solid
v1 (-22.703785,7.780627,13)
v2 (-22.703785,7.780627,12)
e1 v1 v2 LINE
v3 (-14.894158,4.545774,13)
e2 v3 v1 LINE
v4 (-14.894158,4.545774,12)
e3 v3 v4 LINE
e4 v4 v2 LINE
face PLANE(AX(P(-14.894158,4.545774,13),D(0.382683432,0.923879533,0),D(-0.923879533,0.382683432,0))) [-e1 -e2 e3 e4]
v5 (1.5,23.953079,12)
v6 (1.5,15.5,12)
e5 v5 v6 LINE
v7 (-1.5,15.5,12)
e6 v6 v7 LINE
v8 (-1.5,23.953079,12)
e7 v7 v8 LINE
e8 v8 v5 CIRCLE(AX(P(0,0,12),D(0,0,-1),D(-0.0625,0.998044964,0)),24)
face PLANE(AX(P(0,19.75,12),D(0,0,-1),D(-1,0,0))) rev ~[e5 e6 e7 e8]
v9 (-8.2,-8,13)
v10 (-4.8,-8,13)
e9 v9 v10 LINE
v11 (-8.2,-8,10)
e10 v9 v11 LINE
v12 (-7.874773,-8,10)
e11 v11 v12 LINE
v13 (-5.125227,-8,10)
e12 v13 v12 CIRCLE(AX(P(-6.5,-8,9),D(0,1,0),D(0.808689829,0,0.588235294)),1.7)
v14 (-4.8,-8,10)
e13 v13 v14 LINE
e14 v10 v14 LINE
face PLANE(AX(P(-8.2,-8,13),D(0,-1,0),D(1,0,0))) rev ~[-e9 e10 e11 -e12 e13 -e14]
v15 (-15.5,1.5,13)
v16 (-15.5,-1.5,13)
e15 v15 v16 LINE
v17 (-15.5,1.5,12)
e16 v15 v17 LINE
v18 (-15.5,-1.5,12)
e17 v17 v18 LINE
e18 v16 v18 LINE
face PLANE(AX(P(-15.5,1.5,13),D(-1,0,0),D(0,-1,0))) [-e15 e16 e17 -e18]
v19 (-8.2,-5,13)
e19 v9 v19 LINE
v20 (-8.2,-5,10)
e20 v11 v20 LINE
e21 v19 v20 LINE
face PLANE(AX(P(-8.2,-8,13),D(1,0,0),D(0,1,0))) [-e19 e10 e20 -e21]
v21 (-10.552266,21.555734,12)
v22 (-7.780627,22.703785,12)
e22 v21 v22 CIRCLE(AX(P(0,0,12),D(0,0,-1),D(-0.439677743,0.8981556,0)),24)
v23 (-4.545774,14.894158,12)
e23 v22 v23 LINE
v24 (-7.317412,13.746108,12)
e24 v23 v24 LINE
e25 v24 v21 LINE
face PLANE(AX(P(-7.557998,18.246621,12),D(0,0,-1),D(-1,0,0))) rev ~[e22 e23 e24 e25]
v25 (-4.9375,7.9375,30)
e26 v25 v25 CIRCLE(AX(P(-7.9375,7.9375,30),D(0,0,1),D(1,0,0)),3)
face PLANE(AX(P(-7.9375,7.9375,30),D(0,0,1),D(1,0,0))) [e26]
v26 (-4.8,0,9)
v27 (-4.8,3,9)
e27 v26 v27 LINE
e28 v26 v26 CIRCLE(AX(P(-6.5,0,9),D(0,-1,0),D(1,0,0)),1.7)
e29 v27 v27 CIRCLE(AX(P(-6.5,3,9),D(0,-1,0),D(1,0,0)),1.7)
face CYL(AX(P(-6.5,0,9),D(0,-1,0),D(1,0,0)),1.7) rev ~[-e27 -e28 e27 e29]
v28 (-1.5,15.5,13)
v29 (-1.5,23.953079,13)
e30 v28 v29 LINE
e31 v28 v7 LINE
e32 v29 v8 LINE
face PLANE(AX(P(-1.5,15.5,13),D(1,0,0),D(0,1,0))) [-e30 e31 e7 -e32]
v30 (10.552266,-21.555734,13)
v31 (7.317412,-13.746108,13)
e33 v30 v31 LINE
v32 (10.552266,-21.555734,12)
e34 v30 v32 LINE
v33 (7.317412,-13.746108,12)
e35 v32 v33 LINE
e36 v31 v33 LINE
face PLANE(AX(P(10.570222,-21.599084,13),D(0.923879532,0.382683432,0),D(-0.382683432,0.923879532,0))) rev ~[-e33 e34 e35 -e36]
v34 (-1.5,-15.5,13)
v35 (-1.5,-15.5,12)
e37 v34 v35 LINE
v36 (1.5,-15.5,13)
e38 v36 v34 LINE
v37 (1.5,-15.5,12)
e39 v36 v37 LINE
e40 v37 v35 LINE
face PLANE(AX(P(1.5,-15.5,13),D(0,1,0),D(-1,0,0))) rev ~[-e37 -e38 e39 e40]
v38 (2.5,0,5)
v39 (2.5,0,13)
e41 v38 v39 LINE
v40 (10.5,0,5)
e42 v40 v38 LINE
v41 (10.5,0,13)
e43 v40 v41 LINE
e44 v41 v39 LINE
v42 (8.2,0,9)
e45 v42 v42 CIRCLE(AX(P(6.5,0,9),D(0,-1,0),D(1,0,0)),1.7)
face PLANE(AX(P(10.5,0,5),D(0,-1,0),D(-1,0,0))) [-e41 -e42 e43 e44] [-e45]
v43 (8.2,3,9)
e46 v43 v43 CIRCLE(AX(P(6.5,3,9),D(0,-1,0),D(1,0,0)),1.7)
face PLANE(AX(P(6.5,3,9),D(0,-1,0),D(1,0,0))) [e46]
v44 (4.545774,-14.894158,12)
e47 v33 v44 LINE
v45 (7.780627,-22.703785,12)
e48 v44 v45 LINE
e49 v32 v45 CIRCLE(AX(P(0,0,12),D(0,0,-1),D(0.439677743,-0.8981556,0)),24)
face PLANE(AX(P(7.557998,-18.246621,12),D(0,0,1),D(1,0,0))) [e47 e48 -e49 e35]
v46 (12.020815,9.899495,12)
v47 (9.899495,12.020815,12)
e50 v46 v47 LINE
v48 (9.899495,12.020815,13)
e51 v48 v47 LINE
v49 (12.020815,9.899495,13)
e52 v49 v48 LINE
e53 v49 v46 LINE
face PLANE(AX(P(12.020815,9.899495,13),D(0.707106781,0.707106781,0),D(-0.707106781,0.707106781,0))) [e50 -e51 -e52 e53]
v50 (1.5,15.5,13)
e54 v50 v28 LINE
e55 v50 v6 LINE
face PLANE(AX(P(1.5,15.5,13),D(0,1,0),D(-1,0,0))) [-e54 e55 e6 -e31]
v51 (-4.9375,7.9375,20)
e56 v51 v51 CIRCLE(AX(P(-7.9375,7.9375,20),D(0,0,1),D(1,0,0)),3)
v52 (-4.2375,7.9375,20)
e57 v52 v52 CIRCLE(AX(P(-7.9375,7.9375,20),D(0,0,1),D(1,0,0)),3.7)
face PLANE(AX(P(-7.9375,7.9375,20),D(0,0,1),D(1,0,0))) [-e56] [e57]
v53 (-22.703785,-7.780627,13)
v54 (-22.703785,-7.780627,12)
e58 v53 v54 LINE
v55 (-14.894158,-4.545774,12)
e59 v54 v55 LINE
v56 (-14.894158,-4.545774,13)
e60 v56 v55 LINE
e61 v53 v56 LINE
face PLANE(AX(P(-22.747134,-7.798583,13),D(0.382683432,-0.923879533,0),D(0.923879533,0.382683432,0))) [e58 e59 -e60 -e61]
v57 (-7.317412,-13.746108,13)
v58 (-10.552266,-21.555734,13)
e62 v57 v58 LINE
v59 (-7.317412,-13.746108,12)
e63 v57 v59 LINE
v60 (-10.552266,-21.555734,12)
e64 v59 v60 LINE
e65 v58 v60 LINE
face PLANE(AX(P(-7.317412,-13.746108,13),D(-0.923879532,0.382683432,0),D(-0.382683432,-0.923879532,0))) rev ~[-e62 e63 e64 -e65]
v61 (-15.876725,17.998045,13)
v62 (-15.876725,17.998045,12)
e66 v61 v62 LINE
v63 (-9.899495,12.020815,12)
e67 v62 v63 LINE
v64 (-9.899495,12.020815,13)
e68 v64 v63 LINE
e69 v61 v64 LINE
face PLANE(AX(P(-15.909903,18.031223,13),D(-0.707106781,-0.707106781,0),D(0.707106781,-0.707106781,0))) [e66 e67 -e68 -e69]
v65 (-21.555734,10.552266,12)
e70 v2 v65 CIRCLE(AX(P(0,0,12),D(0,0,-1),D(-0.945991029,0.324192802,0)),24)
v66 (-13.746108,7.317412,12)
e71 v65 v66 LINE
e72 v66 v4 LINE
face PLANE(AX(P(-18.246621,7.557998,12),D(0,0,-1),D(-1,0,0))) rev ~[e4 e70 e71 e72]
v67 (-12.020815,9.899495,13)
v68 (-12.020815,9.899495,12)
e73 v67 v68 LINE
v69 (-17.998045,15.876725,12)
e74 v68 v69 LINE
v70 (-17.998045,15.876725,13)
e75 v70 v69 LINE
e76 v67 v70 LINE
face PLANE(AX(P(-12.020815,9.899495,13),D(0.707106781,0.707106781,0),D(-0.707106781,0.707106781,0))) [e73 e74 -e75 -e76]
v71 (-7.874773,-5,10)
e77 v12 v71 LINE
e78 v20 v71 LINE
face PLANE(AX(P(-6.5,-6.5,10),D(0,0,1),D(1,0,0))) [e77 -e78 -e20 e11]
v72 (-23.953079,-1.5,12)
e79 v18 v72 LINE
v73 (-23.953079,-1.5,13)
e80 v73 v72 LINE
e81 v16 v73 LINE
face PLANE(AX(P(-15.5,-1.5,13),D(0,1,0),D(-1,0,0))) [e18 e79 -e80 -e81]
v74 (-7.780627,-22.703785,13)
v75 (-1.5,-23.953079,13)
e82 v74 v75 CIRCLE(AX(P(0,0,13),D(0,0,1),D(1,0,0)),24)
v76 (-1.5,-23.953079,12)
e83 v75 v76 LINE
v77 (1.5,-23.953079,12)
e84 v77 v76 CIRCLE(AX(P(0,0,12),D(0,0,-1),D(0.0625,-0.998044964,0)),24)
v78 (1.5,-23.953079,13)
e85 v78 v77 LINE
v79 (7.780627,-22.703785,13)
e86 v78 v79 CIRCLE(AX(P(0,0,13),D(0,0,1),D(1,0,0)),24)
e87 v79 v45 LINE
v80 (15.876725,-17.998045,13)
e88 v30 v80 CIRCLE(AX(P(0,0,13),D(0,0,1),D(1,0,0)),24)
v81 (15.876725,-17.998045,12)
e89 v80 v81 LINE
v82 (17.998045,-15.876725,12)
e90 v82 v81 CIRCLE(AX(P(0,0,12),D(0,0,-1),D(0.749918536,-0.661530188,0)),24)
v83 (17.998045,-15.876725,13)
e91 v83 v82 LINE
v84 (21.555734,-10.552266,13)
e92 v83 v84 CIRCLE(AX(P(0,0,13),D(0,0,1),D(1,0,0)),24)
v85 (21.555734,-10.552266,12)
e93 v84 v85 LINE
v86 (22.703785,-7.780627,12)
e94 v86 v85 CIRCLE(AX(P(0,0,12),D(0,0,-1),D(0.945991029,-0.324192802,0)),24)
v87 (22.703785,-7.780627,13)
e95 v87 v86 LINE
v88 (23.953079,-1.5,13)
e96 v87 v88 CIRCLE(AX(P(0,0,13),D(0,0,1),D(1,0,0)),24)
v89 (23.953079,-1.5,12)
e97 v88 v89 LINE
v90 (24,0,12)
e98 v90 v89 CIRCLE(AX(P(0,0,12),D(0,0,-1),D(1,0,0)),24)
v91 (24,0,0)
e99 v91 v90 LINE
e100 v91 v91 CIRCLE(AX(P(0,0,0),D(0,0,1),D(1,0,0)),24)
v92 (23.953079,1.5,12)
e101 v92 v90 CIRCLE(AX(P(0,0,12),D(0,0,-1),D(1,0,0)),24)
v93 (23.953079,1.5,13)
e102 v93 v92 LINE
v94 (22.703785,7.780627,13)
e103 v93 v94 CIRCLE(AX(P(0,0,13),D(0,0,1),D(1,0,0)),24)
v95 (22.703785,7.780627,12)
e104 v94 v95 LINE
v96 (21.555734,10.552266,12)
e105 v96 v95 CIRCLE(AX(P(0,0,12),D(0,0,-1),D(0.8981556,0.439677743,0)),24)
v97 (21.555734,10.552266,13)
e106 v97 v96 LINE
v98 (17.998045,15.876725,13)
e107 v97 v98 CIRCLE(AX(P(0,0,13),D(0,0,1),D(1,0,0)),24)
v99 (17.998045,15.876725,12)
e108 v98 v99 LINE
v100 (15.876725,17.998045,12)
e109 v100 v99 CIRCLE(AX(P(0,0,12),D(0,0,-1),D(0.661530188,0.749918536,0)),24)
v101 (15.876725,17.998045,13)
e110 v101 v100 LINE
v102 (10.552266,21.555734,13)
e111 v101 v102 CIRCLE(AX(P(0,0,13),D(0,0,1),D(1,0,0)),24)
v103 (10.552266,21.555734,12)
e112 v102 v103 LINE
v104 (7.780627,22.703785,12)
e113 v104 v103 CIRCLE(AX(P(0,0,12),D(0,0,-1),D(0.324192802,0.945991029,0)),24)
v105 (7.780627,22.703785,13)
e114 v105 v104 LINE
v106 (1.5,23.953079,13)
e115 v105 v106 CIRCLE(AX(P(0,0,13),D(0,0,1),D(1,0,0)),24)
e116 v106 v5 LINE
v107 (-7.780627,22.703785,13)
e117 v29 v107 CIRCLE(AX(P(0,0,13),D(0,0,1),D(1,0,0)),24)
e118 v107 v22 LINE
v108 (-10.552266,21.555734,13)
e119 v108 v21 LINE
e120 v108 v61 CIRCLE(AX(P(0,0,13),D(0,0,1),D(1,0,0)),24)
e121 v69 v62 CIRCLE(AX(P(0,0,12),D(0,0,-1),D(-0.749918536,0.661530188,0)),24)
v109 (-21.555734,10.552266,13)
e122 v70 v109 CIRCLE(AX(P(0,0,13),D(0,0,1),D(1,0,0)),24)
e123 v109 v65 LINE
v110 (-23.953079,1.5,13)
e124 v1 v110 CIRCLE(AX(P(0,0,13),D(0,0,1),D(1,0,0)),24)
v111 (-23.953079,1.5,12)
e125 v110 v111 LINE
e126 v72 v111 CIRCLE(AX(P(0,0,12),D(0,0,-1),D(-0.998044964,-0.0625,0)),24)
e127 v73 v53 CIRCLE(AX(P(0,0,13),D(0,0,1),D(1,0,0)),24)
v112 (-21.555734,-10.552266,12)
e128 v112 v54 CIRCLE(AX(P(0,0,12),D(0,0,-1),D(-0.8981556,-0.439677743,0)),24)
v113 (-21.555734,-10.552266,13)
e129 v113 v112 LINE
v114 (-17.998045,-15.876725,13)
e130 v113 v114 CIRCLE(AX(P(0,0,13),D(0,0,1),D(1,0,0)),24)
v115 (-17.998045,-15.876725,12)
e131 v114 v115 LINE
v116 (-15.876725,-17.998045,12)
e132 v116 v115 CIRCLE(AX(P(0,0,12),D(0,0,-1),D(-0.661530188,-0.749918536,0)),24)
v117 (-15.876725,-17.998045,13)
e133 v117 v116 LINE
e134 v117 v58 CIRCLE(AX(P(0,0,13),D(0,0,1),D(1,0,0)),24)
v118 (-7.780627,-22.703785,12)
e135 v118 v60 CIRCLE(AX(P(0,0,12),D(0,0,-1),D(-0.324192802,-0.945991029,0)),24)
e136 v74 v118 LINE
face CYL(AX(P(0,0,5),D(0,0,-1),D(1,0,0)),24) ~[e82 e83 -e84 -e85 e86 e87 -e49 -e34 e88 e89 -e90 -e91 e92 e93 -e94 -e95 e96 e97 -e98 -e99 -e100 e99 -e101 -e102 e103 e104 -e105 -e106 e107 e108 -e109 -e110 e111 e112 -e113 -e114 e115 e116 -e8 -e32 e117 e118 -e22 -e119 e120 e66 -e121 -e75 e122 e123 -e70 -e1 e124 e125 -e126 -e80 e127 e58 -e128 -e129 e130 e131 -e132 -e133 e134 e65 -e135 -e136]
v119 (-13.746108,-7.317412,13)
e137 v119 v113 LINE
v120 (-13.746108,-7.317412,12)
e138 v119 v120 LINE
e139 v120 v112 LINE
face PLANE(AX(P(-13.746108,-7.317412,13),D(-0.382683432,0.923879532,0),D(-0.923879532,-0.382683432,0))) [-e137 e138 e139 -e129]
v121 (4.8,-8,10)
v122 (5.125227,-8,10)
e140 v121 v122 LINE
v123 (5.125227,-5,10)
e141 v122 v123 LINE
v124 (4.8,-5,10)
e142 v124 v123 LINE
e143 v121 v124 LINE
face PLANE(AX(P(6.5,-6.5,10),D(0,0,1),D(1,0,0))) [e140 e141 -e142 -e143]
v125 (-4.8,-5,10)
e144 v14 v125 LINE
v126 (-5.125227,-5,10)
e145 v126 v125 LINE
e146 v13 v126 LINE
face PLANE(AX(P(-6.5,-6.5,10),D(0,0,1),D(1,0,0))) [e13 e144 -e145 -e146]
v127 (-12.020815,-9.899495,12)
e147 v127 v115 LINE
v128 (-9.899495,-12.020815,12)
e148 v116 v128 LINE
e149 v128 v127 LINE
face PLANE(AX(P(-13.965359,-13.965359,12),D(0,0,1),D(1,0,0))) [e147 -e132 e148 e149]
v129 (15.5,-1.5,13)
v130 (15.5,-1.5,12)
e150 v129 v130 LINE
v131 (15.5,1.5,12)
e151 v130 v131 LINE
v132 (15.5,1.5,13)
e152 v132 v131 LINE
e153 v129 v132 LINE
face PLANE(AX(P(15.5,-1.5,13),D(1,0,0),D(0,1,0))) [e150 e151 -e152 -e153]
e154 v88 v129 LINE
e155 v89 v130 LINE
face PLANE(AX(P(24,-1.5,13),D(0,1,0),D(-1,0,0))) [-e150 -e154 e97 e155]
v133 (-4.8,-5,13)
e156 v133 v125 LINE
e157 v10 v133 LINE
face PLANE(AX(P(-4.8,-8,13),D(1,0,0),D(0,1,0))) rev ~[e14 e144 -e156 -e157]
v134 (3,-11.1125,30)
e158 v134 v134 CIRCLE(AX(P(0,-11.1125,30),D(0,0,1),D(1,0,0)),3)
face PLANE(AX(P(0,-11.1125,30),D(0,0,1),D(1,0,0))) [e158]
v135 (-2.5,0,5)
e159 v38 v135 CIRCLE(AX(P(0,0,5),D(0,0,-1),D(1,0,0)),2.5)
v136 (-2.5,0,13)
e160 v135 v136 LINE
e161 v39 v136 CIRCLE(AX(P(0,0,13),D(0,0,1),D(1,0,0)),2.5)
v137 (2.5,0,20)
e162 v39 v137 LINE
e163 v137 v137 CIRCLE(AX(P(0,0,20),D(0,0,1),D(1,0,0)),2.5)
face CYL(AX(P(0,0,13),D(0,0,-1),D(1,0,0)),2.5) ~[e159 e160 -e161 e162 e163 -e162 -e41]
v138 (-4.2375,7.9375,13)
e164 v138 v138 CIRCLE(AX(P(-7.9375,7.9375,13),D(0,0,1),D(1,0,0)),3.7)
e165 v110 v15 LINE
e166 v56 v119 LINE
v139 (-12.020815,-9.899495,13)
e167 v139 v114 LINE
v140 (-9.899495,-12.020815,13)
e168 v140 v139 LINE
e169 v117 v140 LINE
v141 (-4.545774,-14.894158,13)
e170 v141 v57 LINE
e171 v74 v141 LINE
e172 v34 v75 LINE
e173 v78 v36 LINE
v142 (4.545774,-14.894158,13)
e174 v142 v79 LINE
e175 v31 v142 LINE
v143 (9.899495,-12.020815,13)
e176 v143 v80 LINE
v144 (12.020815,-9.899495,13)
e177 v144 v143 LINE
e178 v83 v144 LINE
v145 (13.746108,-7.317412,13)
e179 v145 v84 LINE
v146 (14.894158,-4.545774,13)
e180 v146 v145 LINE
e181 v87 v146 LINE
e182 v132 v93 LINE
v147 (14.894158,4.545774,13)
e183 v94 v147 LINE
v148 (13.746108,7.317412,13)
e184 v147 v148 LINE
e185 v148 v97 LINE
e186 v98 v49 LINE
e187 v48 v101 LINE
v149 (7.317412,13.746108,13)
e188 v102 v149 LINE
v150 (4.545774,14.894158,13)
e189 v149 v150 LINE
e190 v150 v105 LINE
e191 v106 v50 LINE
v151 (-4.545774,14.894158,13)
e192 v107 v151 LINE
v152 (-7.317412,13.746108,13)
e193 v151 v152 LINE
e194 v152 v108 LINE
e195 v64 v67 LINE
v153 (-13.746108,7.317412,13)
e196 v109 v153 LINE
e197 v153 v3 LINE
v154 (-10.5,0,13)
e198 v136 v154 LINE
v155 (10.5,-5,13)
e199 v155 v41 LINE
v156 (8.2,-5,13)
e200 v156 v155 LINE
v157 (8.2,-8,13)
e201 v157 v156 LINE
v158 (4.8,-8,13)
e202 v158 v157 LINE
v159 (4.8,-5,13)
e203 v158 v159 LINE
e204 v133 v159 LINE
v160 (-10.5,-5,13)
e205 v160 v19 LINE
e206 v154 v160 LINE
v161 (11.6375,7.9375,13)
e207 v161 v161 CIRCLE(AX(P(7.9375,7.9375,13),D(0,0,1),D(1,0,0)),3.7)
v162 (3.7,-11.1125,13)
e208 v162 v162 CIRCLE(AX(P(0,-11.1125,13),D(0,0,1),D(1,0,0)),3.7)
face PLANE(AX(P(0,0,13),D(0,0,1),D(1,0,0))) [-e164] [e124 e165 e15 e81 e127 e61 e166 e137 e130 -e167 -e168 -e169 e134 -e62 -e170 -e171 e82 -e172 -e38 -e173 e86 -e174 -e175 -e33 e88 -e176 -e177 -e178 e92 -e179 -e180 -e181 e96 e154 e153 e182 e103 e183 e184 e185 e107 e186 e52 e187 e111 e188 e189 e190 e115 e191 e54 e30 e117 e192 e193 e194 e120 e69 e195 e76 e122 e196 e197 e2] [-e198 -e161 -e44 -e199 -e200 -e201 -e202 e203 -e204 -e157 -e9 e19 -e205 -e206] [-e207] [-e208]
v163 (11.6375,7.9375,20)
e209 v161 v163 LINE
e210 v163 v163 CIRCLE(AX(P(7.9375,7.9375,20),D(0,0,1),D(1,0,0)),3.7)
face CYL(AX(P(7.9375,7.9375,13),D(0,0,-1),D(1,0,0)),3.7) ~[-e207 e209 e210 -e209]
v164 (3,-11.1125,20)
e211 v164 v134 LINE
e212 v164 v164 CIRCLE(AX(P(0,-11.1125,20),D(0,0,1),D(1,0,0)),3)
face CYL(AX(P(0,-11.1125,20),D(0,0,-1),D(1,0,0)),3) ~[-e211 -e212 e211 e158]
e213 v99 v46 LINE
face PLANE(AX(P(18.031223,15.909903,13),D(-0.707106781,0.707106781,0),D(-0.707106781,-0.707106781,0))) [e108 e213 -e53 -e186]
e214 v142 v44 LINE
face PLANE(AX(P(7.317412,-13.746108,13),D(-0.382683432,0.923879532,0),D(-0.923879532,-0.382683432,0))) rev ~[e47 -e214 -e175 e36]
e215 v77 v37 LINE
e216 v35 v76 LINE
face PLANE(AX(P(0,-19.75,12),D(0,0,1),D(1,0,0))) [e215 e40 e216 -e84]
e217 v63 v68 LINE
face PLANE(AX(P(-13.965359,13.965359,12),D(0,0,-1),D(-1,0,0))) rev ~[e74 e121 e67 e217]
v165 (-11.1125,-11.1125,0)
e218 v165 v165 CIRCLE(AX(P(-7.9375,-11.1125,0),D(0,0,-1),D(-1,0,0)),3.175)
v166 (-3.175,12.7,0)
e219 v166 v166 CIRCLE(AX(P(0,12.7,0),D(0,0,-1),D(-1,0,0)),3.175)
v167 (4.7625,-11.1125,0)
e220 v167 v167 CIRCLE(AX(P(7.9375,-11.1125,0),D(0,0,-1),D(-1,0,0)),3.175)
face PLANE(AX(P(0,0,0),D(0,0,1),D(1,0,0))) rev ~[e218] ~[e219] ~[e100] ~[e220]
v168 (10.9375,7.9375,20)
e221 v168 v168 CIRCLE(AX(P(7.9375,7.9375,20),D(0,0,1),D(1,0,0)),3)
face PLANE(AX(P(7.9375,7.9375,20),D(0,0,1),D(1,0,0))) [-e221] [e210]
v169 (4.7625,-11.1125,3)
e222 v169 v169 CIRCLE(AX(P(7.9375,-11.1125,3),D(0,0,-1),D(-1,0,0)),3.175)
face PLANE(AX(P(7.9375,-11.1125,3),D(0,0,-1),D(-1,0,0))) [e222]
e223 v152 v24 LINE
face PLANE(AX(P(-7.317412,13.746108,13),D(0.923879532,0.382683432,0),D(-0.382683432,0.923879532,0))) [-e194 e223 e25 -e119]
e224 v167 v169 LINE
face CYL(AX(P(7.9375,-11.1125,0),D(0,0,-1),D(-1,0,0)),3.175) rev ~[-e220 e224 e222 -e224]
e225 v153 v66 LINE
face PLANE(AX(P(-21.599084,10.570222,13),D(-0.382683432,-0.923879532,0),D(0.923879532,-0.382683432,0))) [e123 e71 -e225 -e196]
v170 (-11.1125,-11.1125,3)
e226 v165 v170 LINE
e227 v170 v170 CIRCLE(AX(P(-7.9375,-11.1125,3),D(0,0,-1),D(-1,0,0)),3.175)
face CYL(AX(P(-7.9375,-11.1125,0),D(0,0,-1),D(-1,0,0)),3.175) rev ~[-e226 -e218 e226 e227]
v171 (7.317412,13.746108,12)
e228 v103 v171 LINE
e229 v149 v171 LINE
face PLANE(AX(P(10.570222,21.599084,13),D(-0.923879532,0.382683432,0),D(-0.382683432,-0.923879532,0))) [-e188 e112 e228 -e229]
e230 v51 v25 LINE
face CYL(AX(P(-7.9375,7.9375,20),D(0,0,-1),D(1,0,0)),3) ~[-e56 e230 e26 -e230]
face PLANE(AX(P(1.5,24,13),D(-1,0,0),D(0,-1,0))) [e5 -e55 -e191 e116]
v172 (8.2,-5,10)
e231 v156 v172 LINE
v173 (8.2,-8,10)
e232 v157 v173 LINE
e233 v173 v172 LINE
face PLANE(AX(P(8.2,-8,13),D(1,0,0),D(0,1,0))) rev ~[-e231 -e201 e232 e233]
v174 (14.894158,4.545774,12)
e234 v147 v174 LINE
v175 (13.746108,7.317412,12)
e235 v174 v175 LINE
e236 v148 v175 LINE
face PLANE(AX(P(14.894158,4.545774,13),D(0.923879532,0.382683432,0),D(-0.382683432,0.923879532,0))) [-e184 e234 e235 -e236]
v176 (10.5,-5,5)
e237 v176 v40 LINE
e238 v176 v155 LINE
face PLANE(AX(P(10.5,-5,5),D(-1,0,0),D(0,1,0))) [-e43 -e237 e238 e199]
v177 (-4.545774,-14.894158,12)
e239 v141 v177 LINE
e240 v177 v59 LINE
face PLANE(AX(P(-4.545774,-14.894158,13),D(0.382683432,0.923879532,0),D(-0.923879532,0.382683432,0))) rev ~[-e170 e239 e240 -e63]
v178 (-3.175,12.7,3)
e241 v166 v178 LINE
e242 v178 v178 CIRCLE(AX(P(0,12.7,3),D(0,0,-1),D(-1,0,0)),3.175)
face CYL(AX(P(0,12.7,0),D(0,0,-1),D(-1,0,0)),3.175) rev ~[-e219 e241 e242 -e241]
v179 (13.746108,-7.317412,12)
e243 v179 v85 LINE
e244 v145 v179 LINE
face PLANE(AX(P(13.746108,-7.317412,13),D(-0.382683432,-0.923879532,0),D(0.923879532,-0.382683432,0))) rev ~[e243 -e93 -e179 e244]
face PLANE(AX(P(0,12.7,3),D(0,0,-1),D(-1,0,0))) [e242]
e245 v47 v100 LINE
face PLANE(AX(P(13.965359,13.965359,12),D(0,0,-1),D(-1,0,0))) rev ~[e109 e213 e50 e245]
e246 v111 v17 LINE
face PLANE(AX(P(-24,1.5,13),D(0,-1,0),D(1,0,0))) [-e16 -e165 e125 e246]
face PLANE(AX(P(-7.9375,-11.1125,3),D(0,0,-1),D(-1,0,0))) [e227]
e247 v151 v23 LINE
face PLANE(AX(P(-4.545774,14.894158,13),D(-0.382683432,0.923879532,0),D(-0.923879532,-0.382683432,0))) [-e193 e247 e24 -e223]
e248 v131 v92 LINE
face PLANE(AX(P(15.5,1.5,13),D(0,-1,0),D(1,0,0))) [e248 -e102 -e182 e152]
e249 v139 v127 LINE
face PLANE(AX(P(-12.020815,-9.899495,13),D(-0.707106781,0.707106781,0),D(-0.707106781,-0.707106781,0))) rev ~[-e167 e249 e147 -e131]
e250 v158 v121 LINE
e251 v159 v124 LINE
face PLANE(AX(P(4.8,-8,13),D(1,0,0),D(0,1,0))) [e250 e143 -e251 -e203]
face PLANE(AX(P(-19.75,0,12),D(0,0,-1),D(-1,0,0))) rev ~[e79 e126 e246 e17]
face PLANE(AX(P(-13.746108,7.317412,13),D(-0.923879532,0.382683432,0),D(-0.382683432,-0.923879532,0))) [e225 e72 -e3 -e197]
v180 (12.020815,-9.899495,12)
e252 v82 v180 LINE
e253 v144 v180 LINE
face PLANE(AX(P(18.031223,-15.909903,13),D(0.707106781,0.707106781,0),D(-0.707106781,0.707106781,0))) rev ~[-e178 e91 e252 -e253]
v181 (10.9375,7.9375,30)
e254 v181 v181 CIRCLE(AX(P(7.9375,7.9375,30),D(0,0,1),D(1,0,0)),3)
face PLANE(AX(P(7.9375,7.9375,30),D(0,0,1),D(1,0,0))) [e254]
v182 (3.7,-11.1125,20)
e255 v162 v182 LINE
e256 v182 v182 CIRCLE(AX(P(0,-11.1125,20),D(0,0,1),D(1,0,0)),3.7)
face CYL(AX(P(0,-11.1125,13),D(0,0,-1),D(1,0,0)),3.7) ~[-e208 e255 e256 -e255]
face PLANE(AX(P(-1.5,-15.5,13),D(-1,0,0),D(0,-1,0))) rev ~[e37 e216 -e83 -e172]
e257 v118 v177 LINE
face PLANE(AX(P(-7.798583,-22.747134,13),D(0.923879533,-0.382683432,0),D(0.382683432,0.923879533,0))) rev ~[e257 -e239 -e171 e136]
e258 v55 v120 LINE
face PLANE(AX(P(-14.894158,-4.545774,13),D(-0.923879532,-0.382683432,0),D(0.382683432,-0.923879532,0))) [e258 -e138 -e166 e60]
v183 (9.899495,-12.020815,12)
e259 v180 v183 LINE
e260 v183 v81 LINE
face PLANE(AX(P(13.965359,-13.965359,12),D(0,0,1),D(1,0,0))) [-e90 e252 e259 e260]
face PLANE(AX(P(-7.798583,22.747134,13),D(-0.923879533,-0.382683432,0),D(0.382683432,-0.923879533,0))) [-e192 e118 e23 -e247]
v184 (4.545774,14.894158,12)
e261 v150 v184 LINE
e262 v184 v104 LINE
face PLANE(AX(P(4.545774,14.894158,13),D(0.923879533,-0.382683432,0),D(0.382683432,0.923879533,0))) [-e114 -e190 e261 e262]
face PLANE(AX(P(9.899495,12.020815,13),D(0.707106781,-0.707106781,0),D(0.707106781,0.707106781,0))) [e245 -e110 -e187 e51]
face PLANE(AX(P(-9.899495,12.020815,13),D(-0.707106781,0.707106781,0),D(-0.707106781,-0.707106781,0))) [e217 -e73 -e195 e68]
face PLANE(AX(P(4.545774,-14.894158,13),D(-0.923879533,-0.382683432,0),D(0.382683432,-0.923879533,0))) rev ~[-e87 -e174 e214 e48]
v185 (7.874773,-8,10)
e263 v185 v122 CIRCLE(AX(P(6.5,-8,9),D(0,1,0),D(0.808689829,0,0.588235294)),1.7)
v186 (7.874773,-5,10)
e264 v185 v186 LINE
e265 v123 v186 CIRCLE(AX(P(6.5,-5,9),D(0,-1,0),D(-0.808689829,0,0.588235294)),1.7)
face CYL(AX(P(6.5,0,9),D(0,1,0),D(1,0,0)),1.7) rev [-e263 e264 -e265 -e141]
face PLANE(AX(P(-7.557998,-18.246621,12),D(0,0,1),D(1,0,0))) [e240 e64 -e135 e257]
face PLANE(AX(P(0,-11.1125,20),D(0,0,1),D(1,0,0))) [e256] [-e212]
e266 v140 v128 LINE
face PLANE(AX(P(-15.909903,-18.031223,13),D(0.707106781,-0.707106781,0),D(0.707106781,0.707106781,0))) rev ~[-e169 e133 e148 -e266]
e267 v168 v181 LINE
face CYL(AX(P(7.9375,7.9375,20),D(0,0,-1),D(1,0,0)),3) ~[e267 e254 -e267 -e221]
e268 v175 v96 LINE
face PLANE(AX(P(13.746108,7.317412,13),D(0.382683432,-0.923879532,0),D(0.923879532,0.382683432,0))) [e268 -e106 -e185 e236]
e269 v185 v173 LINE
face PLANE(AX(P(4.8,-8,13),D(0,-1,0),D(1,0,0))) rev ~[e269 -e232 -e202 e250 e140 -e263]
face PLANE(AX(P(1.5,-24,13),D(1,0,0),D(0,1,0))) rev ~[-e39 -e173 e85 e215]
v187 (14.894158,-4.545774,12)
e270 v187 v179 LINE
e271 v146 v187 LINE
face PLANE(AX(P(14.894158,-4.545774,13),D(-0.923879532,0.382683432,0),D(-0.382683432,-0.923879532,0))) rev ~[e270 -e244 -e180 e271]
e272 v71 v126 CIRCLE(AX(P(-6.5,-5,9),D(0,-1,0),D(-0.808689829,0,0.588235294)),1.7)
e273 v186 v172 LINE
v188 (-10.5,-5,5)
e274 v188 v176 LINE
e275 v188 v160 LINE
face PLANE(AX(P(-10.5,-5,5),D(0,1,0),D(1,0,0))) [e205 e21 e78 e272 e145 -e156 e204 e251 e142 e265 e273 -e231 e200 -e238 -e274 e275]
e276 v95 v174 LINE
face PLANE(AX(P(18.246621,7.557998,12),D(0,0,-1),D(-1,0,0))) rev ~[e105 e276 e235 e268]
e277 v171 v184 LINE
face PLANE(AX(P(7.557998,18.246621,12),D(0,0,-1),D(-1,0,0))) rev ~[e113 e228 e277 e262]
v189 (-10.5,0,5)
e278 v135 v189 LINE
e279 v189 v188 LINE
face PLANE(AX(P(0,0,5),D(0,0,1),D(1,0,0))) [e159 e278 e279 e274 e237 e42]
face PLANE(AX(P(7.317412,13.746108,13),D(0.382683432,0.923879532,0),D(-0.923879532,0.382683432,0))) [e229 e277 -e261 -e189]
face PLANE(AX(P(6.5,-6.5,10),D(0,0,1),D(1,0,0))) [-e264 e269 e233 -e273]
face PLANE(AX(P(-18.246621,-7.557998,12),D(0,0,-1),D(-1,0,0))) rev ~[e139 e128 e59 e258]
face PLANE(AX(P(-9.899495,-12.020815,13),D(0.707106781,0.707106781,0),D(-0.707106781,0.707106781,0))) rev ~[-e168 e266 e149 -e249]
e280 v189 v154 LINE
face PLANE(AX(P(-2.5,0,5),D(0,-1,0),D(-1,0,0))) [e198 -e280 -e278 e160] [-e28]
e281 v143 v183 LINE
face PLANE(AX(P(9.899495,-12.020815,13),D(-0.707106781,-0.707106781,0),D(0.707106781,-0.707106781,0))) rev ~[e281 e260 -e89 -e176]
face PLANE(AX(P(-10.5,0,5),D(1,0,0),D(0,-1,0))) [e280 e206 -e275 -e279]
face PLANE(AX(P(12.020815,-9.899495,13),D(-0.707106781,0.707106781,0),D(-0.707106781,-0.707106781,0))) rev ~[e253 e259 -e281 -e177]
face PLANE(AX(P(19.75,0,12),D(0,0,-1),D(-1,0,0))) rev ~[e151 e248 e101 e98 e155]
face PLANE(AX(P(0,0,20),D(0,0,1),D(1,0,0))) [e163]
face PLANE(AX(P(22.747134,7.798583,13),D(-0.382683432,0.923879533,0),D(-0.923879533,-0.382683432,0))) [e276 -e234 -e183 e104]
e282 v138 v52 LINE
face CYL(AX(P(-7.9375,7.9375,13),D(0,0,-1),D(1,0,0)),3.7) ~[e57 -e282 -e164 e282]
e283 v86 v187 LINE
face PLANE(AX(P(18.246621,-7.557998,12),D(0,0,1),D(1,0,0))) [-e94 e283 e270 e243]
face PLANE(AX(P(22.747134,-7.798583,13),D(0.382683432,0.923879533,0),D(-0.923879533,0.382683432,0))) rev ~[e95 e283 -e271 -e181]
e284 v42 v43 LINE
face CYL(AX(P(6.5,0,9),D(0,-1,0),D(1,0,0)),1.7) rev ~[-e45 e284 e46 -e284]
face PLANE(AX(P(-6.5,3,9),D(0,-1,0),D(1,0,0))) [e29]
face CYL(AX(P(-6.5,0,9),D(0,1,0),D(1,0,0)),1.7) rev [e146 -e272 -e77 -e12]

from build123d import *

# Parameters (mm, degrees)
SKETCH1_R           = 24
EXTRUDE1_DEPTH      = 5
SKETCH2_R           = 24
EXTRUDE2_DEPTH      = 8
SKETCH3_R           = 2.5
SKETCH3_R_2         = 3.7
EXTRUDE3_DEPTH      = 7
SKETCH5_R           = 3
EXTRUDE6_DEPTH      = 10
SKETCH6_R           = 3.175
EXTRUDE7_DEPTH      = 3
SKETCH7_R           = 1.7
EXTRUDE8_DEPTH      = 8
EXTRUDE8_DEPTH_BACK = 3
SKETCH8_W           = 3.4
SKETCH8_H           = 3
EXTRUDE9_DEPTH      = 3
EXTRUDE10_DEPTH     = 1


with BuildPart() as part:
    # Sketch1 → Extrude1 (new body)
    with BuildSketch(Plane.XY):
        Circle(SKETCH1_R)
    extrude(amount=EXTRUDE1_DEPTH)

    # Sketch2 → Extrude2 (add)
    with BuildSketch(Plane.XY.offset(5)):
        Circle(SKETCH2_R)
        with BuildLine():
            Line((-2.5, 0), (-10.5, 0))
            Line((-10.5, 0), (-10.5, -5))
            Line((-10.5, -5), (10.5, -5))
            Line((10.5, -5), (10.5, 0))
            Line((10.5, 0), (2.5, 0))
            ThreePointArc((2.5, 0), (0, -2.5), (-2.5, 0))
        make_face(mode=Mode.SUBTRACT)
    extrude(amount=EXTRUDE2_DEPTH)

    # Sketch3 → Extrude3 (add)
    with BuildSketch(Plane.XY.offset(13)):
        Circle(SKETCH3_R)
        with Locations((-7.9375, 7.9375)):
            Circle(SKETCH3_R_2)
        with Locations((7.9375, 7.9375)):
            Circle(SKETCH3_R_2)
        with Locations((0, -11.1125)):
            Circle(SKETCH3_R_2)
    extrude(amount=EXTRUDE3_DEPTH)

    # Sketch5 → Extrude6 (add)
    with BuildSketch(Plane.XY.offset(20)):
        with Locations((-7.9375, 7.9375)):
            Circle(SKETCH5_R)
        with Locations((7.9375, 7.9375)):
            Circle(SKETCH5_R)
        with Locations((0, -11.1125)):
            Circle(SKETCH5_R)
    extrude(amount=EXTRUDE6_DEPTH)

    # Sketch6 → Extrude7 (cut)
    with BuildSketch(Plane(origin=(0, 0, 0), x_dir=(-1, 0, 0), z_dir=(0, 0, -1))):
        with Locations((0, 12.7)):
            Circle(SKETCH6_R)
        with Locations((7.9375, -11.1125)):
            Circle(SKETCH6_R)
        with Locations((-7.9375, -11.1125)):
            Circle(SKETCH6_R)
    extrude(amount=-EXTRUDE7_DEPTH, mode=Mode.SUBTRACT)

    # Sketch7 → Extrude8 (cut, two sides)
    with BuildSketch(Plane.XZ) as extrude8_sk:
        with Locations((-6.5, 9)):
            Circle(SKETCH7_R)
        with Locations((6.5, 9)):
            Circle(SKETCH7_R)
    extrude(amount=EXTRUDE8_DEPTH, mode=Mode.SUBTRACT)
    extrude(extrude8_sk.sketch, amount=-EXTRUDE8_DEPTH_BACK, mode=Mode.SUBTRACT)

    # Sketch8 → Extrude9 (cut)
    with BuildSketch(Plane.XY.offset(13)):
        with Locations((-6.5, -6.5)):
            Rectangle(SKETCH8_W, SKETCH8_H)
        with Locations((6.5, -6.5)):
            Rectangle(SKETCH8_W, SKETCH8_H)
    extrude(amount=-EXTRUDE9_DEPTH, mode=Mode.SUBTRACT)

    # Sketch9 → Extrude10 (cut)
    with BuildSketch(Plane.XY.offset(13)):
        Polygon((24, 0), (24, -1.5), (15.5, -1.5), (15.5, 1.5), (24, 1.5), align=None)
        Polygon((22.17310878, 9.184402377), (22.747133929, 7.798583078), (14.894157902, 4.545773903), (13.746107605, 7.3174125), (21.599083632, 10.570221676), align=None)
        Polygon((16.970562748, 16.970562748), (18.03122292, 15.909902577), (12.02081528, 9.899494937), (9.899494937, 12.02081528), (15.909902577, 18.03122292), align=None)
        Polygon((9.184402377, 22.17310878), (10.570221676, 21.599083632), (7.3174125, 13.746107605), (4.545773903, 14.894157902), (7.798583078, 22.747133929), align=None)
        Polygon((0, 24), (1.5, 24), (1.5, 15.5), (-1.5, 15.5), (-1.5, 24), align=None)
        Polygon((-9.184402377, 22.17310878), (-7.798583078, 22.747133929), (-4.545773903, 14.894157902), (-7.3174125, 13.746107605), (-10.570221676, 21.599083632), align=None)
        Polygon((-16.970562748, 16.970562748), (-15.909902577, 18.03122292), (-9.899494937, 12.02081528), (-12.02081528, 9.899494937), (-18.03122292, 15.909902577), align=None)
        Polygon((-22.17310878, 9.184402377), (-21.599083632, 10.570221676), (-13.746107605, 7.3174125), (-14.894157902, 4.545773903), (-22.747133929, 7.798583078), align=None)
        Polygon((-24, 0), (-24, 1.5), (-15.5, 1.5), (-15.5, -1.5), (-24, -1.5), align=None)
        Polygon((-22.17310878, -9.184402377), (-22.747133929, -7.798583078), (-14.894157902, -4.545773903), (-13.746107605, -7.3174125), (-21.599083632, -10.570221676), align=None)
        Polygon((-16.970562748, -16.970562748), (-15.909902577, -18.03122292), (-9.899494937, -12.02081528), (-12.02081528, -9.899494937), (-18.03122292, -15.909902577), align=None)
        Polygon((-9.184402377, -22.17310878), (-7.798583078, -22.747133929), (-4.545773903, -14.894157902), (-7.3174125, -13.746107605), (-10.570221676, -21.599083632), align=None)
        Polygon((0, -24), (1.5, -24), (1.5, -15.5), (-1.5, -15.5), (-1.5, -24), align=None)
        Polygon((9.184402377, -22.17310878), (10.570221676, -21.599083632), (7.3174125, -13.746107605), (4.545773903, -14.894157902), (7.798583078, -22.747133929), align=None)
        Polygon((16.970562748, -16.970562748), (18.03122292, -15.909902577), (12.02081528, -9.899494937), (9.899494937, -12.02081528), (15.909902577, -18.03122292), align=None)
        Polygon((22.17310878, -9.184402377), (22.747133929, -7.798583078), (14.894157902, -4.545773903), (13.746107605, -7.3174125), (21.599083632, -10.570221676), align=None)
    extrude(amount=-EXTRUDE10_DEPTH, mode=Mode.SUBTRACT)


solid = part.part
